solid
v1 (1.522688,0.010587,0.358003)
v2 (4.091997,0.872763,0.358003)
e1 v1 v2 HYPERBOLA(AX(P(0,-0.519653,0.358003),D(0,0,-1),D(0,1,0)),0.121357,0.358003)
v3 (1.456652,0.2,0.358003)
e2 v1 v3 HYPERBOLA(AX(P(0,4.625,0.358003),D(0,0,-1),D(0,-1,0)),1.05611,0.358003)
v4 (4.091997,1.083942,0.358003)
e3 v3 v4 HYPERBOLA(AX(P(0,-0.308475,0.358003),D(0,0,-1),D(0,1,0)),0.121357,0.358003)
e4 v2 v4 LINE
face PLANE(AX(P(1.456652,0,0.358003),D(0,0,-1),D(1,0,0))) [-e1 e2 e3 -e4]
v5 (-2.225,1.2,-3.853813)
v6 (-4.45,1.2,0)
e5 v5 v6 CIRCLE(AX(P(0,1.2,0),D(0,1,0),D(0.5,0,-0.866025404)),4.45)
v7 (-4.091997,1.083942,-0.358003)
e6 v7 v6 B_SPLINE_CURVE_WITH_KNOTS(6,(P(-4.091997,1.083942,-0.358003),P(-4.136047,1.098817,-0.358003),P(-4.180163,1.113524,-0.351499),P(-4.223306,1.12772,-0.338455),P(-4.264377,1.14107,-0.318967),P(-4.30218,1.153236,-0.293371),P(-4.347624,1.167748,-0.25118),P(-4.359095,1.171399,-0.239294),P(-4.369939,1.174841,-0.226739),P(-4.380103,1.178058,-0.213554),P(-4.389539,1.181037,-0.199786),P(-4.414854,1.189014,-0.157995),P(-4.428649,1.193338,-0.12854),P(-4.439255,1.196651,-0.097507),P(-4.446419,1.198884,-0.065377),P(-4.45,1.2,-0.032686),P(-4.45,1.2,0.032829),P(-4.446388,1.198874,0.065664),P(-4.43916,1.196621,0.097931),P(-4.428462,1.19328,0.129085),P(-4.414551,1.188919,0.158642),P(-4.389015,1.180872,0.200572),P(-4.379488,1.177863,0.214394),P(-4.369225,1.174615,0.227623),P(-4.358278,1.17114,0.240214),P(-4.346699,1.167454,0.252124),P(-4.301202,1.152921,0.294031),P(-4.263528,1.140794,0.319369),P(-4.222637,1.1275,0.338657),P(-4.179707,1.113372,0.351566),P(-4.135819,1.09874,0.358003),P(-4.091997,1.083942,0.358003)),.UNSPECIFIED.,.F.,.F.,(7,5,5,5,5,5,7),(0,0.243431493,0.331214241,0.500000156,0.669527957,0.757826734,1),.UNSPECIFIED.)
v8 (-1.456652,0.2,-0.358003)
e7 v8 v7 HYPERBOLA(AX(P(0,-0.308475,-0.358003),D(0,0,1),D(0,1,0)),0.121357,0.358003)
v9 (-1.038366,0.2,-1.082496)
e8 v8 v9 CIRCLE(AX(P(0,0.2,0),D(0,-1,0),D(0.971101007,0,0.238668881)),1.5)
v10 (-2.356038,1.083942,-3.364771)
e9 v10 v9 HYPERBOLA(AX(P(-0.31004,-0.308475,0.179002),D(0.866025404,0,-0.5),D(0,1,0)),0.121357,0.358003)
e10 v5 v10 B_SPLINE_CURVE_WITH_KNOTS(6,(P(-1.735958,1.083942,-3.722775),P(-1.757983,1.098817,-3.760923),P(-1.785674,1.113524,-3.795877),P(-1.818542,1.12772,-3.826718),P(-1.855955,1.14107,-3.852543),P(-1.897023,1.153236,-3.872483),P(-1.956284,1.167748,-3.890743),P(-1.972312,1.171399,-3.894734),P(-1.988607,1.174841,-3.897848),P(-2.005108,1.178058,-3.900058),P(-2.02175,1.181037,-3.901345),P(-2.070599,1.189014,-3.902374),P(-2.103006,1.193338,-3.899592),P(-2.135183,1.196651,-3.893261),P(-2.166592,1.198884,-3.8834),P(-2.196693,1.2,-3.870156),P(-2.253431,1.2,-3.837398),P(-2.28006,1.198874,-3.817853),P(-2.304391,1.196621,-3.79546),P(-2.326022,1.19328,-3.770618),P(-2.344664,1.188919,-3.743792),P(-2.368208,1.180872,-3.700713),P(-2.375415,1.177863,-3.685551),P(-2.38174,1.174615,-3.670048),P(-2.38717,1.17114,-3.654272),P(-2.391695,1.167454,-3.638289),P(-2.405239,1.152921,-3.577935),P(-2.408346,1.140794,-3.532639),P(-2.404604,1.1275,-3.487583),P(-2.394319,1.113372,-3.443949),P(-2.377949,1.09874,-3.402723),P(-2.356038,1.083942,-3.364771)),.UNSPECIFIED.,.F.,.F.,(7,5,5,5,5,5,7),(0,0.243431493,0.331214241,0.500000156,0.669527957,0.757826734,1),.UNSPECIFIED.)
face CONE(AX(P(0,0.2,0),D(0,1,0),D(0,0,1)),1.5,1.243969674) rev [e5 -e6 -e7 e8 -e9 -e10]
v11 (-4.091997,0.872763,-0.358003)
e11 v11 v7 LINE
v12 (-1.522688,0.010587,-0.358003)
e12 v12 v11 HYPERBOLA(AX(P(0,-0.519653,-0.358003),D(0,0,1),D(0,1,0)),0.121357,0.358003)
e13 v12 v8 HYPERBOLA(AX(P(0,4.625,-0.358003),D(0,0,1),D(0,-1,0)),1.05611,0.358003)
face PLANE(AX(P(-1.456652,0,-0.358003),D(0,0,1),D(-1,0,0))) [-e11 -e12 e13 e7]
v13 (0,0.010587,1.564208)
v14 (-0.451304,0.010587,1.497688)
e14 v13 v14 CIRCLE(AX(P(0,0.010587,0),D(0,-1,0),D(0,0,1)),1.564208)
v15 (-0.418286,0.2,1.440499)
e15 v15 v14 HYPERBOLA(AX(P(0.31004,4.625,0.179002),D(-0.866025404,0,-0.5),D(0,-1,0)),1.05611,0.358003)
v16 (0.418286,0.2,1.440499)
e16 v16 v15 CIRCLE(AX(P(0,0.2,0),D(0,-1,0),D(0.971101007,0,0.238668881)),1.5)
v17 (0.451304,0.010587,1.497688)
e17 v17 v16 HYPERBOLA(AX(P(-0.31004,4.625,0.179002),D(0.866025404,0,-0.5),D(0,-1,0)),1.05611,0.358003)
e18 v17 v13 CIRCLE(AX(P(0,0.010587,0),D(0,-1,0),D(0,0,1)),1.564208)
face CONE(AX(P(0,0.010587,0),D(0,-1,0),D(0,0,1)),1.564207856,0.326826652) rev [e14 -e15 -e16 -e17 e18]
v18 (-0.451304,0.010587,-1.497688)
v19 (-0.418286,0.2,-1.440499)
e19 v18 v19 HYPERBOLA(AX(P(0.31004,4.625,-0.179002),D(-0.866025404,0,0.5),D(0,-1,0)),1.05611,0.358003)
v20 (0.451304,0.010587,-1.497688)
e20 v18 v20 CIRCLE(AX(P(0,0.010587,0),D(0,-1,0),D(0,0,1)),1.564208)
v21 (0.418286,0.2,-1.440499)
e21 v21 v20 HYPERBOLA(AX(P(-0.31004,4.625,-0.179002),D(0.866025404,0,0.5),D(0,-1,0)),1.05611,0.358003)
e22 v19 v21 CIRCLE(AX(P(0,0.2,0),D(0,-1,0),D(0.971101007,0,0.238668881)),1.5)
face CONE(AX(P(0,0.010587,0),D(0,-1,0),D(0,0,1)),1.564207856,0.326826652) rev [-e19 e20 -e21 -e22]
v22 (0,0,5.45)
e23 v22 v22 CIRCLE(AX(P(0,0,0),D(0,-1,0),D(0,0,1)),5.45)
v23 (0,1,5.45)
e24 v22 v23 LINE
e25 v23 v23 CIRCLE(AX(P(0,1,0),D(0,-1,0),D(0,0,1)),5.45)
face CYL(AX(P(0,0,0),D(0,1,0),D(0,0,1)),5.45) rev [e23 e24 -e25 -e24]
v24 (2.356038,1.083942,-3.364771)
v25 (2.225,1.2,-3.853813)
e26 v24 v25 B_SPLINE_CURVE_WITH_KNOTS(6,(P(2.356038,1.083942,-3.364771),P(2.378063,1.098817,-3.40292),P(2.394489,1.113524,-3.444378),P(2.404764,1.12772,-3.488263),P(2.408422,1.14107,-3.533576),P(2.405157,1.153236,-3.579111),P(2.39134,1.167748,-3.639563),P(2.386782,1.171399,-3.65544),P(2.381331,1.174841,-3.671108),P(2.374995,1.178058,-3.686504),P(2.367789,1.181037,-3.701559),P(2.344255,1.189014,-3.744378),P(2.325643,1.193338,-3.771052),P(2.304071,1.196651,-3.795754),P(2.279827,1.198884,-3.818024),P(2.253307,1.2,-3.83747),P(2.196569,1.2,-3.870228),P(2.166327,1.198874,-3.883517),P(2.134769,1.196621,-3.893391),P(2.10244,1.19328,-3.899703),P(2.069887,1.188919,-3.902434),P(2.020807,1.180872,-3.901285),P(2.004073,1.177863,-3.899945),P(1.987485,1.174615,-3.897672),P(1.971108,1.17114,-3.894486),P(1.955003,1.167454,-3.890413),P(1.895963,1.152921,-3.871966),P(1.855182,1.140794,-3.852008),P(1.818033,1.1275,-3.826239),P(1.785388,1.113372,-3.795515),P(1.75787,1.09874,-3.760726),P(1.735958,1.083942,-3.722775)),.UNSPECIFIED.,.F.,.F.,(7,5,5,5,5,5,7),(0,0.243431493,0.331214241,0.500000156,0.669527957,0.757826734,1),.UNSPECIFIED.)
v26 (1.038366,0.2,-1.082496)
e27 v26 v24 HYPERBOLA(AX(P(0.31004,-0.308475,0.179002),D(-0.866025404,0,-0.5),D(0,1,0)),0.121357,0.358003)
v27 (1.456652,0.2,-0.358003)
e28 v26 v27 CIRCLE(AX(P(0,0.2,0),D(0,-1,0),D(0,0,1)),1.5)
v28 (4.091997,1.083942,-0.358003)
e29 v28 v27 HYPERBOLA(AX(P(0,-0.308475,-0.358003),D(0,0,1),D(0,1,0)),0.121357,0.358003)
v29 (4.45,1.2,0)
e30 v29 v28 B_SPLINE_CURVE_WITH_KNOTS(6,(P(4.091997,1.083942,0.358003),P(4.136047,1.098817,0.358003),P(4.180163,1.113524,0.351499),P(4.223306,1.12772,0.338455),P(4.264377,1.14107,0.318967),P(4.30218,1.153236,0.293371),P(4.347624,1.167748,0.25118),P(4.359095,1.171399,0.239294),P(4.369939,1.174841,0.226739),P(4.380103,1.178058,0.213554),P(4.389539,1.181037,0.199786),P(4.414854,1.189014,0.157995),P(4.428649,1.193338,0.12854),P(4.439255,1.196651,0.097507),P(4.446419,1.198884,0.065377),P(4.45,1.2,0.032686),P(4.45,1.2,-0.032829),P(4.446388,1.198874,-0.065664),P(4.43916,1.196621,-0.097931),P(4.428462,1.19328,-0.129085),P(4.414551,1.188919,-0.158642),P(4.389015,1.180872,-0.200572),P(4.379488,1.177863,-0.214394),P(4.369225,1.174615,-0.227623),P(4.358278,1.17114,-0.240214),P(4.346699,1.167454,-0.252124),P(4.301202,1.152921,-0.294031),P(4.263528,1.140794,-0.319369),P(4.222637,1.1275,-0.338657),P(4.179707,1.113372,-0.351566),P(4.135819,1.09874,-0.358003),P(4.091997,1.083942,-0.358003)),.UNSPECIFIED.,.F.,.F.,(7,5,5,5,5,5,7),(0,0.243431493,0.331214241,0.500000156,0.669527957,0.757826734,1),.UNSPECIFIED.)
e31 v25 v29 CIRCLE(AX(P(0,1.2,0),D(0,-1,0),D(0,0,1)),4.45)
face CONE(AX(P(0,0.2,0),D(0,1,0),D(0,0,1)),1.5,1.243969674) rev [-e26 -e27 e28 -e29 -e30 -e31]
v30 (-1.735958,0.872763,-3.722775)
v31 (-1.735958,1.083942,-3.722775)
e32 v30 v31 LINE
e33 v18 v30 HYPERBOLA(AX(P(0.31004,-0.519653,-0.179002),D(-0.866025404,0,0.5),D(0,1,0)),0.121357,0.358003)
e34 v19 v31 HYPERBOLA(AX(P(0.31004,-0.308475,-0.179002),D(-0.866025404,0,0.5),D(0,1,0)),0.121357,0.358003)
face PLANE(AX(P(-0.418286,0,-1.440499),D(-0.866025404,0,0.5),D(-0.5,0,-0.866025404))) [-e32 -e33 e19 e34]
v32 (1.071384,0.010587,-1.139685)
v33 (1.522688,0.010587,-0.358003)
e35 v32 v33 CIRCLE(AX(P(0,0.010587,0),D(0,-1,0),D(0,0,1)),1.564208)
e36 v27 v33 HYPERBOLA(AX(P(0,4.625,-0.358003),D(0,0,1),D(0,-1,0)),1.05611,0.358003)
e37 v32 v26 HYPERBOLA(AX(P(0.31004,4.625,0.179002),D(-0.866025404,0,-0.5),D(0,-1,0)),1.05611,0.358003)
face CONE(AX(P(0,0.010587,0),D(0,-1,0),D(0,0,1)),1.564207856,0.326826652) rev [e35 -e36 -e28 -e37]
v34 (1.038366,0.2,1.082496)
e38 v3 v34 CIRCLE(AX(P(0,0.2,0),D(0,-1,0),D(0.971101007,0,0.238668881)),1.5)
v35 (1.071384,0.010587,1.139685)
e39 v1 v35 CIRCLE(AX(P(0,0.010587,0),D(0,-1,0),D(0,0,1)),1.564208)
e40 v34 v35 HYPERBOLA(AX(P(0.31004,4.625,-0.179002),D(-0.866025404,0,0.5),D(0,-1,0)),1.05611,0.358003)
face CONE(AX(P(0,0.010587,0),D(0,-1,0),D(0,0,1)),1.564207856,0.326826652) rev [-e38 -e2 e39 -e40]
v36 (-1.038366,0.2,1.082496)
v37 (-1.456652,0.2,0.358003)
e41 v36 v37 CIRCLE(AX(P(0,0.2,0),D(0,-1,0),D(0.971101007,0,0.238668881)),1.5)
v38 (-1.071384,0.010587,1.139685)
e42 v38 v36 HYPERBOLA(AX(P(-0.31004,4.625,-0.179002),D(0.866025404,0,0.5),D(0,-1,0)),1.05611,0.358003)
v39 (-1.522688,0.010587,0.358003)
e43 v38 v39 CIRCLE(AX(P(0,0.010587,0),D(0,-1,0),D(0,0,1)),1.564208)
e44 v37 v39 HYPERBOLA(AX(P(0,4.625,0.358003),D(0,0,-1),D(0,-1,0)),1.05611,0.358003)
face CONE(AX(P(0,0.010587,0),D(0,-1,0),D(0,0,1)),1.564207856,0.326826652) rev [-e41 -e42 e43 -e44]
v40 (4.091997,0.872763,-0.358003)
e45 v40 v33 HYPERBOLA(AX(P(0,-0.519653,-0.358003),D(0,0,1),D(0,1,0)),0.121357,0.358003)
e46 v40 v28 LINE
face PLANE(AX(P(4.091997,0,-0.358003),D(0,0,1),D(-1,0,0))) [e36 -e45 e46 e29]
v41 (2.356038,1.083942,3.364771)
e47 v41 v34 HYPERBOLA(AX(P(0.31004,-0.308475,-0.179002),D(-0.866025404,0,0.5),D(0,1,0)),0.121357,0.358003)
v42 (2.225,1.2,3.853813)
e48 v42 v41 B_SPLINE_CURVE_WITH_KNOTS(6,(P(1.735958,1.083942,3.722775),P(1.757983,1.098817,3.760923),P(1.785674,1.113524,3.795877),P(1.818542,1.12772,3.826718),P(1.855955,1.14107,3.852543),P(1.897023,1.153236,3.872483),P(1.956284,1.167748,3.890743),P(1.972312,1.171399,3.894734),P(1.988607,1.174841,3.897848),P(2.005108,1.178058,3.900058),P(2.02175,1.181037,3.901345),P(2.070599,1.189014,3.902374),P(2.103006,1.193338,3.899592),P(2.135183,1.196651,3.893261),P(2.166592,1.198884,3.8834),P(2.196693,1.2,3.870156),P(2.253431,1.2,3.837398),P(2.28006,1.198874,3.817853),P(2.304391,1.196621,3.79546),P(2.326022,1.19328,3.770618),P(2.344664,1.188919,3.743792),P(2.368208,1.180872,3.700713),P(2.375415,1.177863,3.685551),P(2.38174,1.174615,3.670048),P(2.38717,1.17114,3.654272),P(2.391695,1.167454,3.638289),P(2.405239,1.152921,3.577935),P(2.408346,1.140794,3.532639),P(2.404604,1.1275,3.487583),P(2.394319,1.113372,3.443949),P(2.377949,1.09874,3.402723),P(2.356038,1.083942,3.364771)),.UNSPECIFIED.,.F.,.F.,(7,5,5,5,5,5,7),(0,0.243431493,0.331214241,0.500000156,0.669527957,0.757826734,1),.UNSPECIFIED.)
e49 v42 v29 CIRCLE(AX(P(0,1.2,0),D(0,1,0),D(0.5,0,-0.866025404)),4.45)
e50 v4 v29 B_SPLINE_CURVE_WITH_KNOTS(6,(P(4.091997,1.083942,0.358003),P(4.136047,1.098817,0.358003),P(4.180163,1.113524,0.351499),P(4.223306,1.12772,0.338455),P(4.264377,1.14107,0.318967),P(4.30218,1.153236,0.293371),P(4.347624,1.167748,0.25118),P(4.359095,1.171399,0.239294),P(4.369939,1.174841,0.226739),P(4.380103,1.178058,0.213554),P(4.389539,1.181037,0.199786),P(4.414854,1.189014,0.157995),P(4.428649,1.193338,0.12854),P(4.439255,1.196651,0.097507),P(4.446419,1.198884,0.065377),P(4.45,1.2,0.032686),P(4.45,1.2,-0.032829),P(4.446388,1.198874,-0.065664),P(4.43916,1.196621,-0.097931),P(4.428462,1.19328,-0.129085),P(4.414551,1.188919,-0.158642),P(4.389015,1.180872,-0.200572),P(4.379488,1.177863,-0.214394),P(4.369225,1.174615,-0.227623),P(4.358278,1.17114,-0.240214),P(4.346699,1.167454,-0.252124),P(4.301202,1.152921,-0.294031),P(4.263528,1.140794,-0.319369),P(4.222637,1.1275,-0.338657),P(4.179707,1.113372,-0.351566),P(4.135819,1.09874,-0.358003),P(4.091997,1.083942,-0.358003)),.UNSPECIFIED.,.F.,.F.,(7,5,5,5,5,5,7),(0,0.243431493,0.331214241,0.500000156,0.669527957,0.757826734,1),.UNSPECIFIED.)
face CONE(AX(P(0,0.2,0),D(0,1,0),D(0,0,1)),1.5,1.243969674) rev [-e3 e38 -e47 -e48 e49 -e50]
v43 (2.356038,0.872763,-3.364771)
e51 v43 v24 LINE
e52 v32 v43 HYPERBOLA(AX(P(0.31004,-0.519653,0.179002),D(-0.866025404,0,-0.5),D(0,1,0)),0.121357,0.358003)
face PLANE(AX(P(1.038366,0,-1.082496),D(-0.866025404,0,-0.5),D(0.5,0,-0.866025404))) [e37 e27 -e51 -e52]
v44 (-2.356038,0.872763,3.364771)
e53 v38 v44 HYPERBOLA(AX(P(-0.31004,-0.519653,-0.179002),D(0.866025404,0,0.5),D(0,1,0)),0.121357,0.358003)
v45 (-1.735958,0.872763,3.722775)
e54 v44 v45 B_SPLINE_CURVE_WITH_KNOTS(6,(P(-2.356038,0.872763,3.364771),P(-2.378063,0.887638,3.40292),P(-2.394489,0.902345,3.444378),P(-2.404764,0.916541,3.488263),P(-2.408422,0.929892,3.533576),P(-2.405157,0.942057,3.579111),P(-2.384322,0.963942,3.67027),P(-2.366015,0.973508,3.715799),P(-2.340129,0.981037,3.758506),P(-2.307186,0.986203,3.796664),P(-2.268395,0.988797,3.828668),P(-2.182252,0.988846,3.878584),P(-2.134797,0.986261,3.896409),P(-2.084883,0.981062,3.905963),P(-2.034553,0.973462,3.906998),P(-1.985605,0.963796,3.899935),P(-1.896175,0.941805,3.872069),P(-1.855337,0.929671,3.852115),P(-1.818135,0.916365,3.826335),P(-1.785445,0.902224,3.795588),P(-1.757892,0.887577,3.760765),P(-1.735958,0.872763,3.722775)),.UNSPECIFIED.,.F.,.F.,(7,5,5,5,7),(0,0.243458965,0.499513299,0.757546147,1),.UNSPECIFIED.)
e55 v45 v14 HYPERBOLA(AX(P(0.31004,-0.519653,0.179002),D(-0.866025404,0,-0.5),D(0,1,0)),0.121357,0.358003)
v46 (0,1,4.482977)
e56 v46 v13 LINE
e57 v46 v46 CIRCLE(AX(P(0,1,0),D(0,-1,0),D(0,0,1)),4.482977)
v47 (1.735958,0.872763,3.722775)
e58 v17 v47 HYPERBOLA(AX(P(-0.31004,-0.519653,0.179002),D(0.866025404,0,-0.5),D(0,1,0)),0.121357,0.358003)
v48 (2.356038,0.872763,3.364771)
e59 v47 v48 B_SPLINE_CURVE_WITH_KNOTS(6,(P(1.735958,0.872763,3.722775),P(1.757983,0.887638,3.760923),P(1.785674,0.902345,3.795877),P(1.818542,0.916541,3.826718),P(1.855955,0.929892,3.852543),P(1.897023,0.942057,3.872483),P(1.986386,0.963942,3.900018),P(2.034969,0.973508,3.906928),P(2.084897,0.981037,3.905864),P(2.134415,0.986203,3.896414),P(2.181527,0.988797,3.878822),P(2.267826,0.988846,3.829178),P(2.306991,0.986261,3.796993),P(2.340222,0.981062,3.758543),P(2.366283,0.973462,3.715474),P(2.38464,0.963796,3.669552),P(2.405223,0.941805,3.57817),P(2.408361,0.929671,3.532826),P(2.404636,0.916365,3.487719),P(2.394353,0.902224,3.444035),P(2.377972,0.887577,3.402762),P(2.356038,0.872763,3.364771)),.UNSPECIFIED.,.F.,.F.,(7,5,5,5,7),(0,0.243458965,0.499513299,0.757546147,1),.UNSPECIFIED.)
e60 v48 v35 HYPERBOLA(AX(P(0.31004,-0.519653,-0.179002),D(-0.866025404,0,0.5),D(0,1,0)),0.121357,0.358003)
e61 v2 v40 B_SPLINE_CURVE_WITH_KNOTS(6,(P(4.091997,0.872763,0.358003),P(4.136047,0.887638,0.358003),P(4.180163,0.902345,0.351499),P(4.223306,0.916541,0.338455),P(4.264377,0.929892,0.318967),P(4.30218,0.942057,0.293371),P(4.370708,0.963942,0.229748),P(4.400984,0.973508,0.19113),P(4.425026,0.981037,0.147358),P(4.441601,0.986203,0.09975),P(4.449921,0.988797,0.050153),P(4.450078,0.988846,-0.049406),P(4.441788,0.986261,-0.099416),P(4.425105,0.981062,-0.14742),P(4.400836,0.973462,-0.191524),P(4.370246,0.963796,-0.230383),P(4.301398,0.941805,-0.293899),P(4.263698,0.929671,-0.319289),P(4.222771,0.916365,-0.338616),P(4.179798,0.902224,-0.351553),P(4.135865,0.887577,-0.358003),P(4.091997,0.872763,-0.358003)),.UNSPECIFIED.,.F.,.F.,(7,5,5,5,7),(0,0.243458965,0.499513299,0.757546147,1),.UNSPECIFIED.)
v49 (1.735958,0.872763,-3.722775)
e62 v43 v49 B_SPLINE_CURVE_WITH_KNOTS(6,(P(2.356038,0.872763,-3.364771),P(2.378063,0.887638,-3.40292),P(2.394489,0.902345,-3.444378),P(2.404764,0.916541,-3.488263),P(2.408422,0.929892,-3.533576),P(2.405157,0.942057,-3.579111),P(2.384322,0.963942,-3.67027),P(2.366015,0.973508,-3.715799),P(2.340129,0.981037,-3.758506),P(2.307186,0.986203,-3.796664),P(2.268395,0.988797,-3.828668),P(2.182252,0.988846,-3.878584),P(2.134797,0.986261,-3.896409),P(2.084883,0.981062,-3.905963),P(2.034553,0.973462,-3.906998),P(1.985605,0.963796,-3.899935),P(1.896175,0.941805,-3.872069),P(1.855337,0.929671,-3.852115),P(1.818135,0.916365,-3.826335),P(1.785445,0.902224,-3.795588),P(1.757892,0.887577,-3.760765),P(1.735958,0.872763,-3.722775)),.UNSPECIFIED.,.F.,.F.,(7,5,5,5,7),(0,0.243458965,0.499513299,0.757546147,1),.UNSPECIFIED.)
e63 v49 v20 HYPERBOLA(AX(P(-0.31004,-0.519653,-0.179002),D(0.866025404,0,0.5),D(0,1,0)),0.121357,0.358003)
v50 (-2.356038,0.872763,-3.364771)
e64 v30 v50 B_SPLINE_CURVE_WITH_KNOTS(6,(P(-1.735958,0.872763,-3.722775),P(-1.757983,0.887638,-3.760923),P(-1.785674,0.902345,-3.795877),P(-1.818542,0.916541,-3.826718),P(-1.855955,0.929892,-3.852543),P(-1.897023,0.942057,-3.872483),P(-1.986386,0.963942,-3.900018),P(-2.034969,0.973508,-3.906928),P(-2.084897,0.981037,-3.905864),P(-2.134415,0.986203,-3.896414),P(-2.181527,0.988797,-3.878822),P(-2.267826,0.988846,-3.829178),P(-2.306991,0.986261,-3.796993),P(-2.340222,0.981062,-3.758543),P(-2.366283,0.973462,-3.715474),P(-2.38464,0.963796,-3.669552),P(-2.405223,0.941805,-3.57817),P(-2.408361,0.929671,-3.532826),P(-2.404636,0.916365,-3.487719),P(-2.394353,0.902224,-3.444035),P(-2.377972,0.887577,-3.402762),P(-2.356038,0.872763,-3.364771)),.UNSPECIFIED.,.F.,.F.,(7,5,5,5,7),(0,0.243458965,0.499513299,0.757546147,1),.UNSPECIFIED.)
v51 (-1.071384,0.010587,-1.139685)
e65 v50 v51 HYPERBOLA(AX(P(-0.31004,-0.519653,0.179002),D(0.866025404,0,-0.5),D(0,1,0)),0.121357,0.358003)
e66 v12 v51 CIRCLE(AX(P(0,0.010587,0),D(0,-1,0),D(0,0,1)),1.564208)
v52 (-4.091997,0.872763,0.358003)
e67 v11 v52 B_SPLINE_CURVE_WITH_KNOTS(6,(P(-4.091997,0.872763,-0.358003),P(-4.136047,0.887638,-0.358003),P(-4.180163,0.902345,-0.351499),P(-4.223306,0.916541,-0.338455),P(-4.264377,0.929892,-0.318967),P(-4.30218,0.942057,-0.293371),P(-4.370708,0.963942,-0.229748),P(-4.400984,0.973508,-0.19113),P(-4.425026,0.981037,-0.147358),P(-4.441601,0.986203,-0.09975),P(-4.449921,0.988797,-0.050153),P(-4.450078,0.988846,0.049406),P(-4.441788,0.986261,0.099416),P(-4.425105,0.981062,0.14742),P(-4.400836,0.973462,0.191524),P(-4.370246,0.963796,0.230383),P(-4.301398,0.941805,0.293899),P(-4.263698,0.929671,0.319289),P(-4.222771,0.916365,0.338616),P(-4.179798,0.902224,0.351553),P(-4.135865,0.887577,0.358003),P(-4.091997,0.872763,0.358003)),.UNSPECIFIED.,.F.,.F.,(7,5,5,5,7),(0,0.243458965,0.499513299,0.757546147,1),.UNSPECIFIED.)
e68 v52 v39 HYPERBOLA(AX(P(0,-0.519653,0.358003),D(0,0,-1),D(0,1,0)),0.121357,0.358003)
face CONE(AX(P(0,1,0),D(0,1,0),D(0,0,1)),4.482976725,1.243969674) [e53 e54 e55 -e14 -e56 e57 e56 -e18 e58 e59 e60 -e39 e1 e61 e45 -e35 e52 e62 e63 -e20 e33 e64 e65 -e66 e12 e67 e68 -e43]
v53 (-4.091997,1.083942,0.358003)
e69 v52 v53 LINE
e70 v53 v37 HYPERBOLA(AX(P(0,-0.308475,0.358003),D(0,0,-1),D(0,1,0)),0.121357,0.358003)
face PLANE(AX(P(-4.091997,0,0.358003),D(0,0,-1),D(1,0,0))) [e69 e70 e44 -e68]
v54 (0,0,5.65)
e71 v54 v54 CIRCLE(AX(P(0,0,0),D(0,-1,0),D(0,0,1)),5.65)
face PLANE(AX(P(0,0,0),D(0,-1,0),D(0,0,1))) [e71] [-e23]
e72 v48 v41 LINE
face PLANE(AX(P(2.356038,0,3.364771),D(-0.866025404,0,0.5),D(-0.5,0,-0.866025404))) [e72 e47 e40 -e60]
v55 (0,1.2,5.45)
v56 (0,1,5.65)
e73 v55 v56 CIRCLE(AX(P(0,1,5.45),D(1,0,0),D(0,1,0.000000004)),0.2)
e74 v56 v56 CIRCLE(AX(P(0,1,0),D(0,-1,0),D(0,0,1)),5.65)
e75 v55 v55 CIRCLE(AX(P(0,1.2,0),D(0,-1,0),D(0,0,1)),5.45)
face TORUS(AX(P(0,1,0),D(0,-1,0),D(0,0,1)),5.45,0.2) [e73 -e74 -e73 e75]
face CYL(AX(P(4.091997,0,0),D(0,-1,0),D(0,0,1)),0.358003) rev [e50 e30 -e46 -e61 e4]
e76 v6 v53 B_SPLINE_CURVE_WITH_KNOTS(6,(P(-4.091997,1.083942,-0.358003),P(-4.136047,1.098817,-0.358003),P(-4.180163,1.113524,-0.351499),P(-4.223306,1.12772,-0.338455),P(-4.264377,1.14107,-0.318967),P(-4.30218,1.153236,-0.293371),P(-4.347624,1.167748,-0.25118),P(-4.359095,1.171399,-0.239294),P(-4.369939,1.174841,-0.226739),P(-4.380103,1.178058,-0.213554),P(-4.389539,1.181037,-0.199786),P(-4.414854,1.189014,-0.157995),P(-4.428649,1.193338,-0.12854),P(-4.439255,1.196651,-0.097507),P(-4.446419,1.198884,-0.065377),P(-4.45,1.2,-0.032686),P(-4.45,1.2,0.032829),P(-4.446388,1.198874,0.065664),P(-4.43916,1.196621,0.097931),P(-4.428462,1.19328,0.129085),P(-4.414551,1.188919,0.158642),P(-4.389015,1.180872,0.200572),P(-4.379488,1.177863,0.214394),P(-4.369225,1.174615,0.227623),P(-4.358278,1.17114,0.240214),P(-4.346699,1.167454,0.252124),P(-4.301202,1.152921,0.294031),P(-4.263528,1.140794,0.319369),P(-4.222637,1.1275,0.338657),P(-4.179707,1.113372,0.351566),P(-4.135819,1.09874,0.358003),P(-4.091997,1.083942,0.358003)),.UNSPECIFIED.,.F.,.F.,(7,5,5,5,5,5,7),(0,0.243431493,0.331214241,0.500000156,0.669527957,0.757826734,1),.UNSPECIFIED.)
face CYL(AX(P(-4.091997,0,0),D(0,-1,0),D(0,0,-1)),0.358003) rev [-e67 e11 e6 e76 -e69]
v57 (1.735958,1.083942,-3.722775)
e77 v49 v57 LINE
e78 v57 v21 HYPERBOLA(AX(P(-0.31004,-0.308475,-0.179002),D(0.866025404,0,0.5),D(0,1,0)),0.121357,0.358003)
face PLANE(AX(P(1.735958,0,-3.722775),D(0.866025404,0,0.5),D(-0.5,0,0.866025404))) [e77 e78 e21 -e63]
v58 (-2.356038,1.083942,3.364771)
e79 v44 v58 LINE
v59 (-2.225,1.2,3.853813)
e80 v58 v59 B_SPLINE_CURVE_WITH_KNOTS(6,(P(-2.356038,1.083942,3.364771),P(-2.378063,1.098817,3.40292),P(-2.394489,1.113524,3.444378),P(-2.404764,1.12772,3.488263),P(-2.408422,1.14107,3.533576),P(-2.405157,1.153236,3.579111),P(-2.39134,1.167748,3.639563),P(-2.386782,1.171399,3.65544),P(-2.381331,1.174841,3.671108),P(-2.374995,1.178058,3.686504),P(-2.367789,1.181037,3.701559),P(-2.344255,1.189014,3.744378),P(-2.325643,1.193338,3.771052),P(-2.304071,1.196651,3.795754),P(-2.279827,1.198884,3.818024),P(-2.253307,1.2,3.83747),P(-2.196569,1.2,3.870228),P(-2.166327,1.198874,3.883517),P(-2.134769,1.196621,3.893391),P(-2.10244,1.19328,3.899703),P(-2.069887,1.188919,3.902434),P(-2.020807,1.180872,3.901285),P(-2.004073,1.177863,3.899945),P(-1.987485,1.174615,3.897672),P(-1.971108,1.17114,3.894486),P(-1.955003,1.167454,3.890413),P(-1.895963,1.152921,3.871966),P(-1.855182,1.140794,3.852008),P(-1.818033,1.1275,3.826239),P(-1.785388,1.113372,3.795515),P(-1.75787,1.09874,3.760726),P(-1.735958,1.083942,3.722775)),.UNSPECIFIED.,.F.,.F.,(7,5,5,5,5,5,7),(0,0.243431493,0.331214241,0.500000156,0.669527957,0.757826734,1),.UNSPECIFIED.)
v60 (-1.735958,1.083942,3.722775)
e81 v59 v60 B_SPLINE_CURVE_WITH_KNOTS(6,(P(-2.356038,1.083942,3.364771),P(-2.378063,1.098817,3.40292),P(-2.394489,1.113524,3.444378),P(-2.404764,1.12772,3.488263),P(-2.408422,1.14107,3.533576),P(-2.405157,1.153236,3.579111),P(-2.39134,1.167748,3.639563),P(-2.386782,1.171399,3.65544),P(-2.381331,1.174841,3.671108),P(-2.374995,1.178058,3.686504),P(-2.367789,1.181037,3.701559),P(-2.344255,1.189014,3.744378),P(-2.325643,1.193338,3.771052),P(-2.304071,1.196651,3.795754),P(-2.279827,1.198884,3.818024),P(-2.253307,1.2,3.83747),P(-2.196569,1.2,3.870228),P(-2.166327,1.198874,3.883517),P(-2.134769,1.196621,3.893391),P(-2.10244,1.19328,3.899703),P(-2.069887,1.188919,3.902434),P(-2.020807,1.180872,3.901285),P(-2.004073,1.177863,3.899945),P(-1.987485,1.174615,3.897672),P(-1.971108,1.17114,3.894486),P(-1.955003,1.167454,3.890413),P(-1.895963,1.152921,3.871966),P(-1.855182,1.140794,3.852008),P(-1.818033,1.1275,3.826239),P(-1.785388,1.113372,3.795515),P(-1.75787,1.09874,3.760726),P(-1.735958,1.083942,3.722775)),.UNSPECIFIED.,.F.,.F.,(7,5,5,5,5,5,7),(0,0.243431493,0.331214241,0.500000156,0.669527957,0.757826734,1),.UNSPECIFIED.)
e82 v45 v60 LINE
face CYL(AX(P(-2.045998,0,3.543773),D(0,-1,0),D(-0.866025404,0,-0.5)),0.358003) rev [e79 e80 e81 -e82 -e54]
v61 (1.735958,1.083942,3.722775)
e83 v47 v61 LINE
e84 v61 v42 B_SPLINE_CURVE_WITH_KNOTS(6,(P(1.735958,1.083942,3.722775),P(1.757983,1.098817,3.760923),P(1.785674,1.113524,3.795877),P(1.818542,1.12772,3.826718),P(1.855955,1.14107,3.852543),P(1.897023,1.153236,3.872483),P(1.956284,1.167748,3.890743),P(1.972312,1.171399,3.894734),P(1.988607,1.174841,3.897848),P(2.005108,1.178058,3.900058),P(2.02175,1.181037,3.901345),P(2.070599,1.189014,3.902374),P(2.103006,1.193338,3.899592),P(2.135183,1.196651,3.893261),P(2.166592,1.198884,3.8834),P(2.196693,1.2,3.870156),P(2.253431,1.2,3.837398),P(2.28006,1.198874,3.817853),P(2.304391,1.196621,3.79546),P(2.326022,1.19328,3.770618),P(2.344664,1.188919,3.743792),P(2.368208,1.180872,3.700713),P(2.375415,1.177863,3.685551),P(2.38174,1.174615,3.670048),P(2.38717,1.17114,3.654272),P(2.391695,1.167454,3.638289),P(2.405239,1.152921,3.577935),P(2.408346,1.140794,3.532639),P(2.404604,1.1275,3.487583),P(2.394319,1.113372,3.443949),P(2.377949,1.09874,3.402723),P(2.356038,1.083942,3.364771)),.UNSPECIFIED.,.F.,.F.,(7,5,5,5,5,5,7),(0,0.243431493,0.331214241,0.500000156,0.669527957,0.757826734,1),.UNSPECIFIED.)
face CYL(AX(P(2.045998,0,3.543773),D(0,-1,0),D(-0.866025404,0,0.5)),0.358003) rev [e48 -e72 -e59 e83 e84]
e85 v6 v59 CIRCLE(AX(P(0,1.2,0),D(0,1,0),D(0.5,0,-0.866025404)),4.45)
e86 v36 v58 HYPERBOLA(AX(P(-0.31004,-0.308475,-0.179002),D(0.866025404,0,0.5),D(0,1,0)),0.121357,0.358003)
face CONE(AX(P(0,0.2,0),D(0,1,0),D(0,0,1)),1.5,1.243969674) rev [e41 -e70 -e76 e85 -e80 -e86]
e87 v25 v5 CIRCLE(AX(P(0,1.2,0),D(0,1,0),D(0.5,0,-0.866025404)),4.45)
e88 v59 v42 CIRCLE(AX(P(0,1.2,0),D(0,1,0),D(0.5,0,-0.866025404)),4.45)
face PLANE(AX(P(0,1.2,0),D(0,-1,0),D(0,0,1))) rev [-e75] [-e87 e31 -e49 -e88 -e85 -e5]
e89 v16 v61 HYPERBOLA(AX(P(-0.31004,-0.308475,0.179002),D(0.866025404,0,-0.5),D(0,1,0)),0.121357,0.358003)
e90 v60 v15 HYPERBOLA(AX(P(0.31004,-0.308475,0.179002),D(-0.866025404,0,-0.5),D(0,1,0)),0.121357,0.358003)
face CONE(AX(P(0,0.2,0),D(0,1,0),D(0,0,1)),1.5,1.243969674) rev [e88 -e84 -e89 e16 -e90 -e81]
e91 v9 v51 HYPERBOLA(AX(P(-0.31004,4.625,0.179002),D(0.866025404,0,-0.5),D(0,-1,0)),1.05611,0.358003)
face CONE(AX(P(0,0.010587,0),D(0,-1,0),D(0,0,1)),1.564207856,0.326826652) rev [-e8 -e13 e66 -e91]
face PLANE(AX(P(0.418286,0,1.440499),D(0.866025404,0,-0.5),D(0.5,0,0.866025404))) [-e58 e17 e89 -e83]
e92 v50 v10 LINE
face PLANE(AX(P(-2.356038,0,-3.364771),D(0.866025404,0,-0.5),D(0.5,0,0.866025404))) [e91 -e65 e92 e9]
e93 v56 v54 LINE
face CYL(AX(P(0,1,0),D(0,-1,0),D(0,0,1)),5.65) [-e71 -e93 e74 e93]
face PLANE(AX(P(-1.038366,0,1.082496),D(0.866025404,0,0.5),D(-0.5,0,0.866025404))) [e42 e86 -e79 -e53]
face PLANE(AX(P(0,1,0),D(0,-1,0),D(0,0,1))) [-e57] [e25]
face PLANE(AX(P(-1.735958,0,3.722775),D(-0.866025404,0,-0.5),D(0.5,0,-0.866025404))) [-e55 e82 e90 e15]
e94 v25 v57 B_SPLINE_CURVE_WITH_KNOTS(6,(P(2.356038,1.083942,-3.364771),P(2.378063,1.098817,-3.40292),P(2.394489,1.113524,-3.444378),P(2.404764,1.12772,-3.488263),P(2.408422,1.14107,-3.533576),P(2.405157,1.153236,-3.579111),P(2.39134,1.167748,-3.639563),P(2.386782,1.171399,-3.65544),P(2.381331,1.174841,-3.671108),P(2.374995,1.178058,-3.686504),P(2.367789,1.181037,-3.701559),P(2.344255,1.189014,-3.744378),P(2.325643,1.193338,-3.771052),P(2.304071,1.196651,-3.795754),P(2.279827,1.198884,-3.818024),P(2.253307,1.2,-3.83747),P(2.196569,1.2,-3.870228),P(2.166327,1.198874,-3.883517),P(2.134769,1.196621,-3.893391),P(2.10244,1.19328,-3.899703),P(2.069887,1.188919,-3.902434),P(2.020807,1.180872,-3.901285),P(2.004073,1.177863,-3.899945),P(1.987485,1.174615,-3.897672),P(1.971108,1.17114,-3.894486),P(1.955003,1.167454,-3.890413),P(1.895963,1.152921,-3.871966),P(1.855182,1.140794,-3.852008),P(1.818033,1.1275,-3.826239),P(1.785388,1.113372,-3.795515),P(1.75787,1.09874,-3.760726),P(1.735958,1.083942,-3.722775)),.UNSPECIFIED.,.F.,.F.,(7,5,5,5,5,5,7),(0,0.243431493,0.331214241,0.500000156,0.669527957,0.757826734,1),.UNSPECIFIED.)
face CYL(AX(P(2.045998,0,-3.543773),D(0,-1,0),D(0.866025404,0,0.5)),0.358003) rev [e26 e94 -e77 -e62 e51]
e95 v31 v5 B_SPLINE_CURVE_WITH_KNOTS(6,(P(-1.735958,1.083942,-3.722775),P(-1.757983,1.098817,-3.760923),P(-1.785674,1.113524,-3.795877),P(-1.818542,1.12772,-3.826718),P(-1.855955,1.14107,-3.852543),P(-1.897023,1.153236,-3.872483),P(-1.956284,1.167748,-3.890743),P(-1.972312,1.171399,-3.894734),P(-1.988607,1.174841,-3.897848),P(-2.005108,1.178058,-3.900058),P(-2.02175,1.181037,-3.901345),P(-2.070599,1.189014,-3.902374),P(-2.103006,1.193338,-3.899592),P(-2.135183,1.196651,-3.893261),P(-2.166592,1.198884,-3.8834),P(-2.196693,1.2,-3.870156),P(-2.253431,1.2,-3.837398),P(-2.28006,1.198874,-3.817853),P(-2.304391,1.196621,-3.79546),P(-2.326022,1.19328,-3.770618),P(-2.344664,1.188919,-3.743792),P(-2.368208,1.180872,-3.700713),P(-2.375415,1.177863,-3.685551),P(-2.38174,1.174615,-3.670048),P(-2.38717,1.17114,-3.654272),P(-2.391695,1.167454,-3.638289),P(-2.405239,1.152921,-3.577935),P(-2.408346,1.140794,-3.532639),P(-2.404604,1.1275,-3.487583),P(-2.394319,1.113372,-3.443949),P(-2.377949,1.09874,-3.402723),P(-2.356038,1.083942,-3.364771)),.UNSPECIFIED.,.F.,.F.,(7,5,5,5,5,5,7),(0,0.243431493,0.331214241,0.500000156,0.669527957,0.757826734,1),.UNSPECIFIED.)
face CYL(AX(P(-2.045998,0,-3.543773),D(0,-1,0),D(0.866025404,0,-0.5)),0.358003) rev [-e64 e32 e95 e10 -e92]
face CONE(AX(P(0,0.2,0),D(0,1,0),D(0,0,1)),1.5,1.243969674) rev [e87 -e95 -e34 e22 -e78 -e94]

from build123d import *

# Parameters (mm, degrees)
CUT_SLIT_DEPTH         = 9.079913366
PATTERN_CUT_SLIT_COUNT = 6


with BuildPart() as part:
    # Sketch4 → Body-Washer (revolve)
    with BuildSketch(Plane.XY, mode=Mode.PRIVATE) as body_washer_sk:
        with BuildLine():
            Line((1.5, 0.2), (4.45, 1.2))
            Line((4.45, 1.2), (5.45, 1.2))
            ThreePointArc((5.45, 1.2), (5.591421356, 1.141421356), (5.65, 1))
            Line((5.65, 1), (5.65, 0))
            Line((5.65, 0), (5.45, 0))
            Line((5.45, 0), (5.45, 1))
            Line((5.45, 1), (4.482976725, 1))
            Line((4.482976725, 1), (1.564207856, 0.010586824))
            Line((1.564207856, 0.010586824), (1.5, 0.2))
        make_face()
    revolve(body_washer_sk.sketch.rotate(Axis((0, 1.2, 0), (0, -1, 0)), 90), axis=Axis((0, 1.2, 0), (0, -1, 0)))

    # Sketch5 → Cut-Slit (cut, through all)
    with BuildSketch(Plane(origin=(0, 0, 0), x_dir=(1, 0, 0), z_dir=(0, 1, 0))):
        with BuildLine():
            Line((4.091996679, 0.358003321), (1.45665151, 0.358003321))
            ThreePointArc((1.45665151, 0.358003321), (1.5, 0), (1.45665151, -0.358003321))
            Line((1.45665151, -0.358003321), (4.091996679, -0.358003321))
            ThreePointArc((4.091996679, -0.358003321), (4.45, 0), (4.091996679, 0.358003321))
        make_face()
    cut_slit = extrude(amount=CUT_SLIT_DEPTH, mode=Mode.SUBTRACT)

    # Pattern-Cut-Slit: Cut-Slit ×6 about axis
    pattern_cut_slit_axis = Axis((0, 0, 0), (0, 1, 0))
    for i in range(1, PATTERN_CUT_SLIT_COUNT):
        add(cut_slit.rotate(pattern_cut_slit_axis, i * 360 / PATTERN_CUT_SLIT_COUNT), mode=Mode.SUBTRACT)


solid = part.part
